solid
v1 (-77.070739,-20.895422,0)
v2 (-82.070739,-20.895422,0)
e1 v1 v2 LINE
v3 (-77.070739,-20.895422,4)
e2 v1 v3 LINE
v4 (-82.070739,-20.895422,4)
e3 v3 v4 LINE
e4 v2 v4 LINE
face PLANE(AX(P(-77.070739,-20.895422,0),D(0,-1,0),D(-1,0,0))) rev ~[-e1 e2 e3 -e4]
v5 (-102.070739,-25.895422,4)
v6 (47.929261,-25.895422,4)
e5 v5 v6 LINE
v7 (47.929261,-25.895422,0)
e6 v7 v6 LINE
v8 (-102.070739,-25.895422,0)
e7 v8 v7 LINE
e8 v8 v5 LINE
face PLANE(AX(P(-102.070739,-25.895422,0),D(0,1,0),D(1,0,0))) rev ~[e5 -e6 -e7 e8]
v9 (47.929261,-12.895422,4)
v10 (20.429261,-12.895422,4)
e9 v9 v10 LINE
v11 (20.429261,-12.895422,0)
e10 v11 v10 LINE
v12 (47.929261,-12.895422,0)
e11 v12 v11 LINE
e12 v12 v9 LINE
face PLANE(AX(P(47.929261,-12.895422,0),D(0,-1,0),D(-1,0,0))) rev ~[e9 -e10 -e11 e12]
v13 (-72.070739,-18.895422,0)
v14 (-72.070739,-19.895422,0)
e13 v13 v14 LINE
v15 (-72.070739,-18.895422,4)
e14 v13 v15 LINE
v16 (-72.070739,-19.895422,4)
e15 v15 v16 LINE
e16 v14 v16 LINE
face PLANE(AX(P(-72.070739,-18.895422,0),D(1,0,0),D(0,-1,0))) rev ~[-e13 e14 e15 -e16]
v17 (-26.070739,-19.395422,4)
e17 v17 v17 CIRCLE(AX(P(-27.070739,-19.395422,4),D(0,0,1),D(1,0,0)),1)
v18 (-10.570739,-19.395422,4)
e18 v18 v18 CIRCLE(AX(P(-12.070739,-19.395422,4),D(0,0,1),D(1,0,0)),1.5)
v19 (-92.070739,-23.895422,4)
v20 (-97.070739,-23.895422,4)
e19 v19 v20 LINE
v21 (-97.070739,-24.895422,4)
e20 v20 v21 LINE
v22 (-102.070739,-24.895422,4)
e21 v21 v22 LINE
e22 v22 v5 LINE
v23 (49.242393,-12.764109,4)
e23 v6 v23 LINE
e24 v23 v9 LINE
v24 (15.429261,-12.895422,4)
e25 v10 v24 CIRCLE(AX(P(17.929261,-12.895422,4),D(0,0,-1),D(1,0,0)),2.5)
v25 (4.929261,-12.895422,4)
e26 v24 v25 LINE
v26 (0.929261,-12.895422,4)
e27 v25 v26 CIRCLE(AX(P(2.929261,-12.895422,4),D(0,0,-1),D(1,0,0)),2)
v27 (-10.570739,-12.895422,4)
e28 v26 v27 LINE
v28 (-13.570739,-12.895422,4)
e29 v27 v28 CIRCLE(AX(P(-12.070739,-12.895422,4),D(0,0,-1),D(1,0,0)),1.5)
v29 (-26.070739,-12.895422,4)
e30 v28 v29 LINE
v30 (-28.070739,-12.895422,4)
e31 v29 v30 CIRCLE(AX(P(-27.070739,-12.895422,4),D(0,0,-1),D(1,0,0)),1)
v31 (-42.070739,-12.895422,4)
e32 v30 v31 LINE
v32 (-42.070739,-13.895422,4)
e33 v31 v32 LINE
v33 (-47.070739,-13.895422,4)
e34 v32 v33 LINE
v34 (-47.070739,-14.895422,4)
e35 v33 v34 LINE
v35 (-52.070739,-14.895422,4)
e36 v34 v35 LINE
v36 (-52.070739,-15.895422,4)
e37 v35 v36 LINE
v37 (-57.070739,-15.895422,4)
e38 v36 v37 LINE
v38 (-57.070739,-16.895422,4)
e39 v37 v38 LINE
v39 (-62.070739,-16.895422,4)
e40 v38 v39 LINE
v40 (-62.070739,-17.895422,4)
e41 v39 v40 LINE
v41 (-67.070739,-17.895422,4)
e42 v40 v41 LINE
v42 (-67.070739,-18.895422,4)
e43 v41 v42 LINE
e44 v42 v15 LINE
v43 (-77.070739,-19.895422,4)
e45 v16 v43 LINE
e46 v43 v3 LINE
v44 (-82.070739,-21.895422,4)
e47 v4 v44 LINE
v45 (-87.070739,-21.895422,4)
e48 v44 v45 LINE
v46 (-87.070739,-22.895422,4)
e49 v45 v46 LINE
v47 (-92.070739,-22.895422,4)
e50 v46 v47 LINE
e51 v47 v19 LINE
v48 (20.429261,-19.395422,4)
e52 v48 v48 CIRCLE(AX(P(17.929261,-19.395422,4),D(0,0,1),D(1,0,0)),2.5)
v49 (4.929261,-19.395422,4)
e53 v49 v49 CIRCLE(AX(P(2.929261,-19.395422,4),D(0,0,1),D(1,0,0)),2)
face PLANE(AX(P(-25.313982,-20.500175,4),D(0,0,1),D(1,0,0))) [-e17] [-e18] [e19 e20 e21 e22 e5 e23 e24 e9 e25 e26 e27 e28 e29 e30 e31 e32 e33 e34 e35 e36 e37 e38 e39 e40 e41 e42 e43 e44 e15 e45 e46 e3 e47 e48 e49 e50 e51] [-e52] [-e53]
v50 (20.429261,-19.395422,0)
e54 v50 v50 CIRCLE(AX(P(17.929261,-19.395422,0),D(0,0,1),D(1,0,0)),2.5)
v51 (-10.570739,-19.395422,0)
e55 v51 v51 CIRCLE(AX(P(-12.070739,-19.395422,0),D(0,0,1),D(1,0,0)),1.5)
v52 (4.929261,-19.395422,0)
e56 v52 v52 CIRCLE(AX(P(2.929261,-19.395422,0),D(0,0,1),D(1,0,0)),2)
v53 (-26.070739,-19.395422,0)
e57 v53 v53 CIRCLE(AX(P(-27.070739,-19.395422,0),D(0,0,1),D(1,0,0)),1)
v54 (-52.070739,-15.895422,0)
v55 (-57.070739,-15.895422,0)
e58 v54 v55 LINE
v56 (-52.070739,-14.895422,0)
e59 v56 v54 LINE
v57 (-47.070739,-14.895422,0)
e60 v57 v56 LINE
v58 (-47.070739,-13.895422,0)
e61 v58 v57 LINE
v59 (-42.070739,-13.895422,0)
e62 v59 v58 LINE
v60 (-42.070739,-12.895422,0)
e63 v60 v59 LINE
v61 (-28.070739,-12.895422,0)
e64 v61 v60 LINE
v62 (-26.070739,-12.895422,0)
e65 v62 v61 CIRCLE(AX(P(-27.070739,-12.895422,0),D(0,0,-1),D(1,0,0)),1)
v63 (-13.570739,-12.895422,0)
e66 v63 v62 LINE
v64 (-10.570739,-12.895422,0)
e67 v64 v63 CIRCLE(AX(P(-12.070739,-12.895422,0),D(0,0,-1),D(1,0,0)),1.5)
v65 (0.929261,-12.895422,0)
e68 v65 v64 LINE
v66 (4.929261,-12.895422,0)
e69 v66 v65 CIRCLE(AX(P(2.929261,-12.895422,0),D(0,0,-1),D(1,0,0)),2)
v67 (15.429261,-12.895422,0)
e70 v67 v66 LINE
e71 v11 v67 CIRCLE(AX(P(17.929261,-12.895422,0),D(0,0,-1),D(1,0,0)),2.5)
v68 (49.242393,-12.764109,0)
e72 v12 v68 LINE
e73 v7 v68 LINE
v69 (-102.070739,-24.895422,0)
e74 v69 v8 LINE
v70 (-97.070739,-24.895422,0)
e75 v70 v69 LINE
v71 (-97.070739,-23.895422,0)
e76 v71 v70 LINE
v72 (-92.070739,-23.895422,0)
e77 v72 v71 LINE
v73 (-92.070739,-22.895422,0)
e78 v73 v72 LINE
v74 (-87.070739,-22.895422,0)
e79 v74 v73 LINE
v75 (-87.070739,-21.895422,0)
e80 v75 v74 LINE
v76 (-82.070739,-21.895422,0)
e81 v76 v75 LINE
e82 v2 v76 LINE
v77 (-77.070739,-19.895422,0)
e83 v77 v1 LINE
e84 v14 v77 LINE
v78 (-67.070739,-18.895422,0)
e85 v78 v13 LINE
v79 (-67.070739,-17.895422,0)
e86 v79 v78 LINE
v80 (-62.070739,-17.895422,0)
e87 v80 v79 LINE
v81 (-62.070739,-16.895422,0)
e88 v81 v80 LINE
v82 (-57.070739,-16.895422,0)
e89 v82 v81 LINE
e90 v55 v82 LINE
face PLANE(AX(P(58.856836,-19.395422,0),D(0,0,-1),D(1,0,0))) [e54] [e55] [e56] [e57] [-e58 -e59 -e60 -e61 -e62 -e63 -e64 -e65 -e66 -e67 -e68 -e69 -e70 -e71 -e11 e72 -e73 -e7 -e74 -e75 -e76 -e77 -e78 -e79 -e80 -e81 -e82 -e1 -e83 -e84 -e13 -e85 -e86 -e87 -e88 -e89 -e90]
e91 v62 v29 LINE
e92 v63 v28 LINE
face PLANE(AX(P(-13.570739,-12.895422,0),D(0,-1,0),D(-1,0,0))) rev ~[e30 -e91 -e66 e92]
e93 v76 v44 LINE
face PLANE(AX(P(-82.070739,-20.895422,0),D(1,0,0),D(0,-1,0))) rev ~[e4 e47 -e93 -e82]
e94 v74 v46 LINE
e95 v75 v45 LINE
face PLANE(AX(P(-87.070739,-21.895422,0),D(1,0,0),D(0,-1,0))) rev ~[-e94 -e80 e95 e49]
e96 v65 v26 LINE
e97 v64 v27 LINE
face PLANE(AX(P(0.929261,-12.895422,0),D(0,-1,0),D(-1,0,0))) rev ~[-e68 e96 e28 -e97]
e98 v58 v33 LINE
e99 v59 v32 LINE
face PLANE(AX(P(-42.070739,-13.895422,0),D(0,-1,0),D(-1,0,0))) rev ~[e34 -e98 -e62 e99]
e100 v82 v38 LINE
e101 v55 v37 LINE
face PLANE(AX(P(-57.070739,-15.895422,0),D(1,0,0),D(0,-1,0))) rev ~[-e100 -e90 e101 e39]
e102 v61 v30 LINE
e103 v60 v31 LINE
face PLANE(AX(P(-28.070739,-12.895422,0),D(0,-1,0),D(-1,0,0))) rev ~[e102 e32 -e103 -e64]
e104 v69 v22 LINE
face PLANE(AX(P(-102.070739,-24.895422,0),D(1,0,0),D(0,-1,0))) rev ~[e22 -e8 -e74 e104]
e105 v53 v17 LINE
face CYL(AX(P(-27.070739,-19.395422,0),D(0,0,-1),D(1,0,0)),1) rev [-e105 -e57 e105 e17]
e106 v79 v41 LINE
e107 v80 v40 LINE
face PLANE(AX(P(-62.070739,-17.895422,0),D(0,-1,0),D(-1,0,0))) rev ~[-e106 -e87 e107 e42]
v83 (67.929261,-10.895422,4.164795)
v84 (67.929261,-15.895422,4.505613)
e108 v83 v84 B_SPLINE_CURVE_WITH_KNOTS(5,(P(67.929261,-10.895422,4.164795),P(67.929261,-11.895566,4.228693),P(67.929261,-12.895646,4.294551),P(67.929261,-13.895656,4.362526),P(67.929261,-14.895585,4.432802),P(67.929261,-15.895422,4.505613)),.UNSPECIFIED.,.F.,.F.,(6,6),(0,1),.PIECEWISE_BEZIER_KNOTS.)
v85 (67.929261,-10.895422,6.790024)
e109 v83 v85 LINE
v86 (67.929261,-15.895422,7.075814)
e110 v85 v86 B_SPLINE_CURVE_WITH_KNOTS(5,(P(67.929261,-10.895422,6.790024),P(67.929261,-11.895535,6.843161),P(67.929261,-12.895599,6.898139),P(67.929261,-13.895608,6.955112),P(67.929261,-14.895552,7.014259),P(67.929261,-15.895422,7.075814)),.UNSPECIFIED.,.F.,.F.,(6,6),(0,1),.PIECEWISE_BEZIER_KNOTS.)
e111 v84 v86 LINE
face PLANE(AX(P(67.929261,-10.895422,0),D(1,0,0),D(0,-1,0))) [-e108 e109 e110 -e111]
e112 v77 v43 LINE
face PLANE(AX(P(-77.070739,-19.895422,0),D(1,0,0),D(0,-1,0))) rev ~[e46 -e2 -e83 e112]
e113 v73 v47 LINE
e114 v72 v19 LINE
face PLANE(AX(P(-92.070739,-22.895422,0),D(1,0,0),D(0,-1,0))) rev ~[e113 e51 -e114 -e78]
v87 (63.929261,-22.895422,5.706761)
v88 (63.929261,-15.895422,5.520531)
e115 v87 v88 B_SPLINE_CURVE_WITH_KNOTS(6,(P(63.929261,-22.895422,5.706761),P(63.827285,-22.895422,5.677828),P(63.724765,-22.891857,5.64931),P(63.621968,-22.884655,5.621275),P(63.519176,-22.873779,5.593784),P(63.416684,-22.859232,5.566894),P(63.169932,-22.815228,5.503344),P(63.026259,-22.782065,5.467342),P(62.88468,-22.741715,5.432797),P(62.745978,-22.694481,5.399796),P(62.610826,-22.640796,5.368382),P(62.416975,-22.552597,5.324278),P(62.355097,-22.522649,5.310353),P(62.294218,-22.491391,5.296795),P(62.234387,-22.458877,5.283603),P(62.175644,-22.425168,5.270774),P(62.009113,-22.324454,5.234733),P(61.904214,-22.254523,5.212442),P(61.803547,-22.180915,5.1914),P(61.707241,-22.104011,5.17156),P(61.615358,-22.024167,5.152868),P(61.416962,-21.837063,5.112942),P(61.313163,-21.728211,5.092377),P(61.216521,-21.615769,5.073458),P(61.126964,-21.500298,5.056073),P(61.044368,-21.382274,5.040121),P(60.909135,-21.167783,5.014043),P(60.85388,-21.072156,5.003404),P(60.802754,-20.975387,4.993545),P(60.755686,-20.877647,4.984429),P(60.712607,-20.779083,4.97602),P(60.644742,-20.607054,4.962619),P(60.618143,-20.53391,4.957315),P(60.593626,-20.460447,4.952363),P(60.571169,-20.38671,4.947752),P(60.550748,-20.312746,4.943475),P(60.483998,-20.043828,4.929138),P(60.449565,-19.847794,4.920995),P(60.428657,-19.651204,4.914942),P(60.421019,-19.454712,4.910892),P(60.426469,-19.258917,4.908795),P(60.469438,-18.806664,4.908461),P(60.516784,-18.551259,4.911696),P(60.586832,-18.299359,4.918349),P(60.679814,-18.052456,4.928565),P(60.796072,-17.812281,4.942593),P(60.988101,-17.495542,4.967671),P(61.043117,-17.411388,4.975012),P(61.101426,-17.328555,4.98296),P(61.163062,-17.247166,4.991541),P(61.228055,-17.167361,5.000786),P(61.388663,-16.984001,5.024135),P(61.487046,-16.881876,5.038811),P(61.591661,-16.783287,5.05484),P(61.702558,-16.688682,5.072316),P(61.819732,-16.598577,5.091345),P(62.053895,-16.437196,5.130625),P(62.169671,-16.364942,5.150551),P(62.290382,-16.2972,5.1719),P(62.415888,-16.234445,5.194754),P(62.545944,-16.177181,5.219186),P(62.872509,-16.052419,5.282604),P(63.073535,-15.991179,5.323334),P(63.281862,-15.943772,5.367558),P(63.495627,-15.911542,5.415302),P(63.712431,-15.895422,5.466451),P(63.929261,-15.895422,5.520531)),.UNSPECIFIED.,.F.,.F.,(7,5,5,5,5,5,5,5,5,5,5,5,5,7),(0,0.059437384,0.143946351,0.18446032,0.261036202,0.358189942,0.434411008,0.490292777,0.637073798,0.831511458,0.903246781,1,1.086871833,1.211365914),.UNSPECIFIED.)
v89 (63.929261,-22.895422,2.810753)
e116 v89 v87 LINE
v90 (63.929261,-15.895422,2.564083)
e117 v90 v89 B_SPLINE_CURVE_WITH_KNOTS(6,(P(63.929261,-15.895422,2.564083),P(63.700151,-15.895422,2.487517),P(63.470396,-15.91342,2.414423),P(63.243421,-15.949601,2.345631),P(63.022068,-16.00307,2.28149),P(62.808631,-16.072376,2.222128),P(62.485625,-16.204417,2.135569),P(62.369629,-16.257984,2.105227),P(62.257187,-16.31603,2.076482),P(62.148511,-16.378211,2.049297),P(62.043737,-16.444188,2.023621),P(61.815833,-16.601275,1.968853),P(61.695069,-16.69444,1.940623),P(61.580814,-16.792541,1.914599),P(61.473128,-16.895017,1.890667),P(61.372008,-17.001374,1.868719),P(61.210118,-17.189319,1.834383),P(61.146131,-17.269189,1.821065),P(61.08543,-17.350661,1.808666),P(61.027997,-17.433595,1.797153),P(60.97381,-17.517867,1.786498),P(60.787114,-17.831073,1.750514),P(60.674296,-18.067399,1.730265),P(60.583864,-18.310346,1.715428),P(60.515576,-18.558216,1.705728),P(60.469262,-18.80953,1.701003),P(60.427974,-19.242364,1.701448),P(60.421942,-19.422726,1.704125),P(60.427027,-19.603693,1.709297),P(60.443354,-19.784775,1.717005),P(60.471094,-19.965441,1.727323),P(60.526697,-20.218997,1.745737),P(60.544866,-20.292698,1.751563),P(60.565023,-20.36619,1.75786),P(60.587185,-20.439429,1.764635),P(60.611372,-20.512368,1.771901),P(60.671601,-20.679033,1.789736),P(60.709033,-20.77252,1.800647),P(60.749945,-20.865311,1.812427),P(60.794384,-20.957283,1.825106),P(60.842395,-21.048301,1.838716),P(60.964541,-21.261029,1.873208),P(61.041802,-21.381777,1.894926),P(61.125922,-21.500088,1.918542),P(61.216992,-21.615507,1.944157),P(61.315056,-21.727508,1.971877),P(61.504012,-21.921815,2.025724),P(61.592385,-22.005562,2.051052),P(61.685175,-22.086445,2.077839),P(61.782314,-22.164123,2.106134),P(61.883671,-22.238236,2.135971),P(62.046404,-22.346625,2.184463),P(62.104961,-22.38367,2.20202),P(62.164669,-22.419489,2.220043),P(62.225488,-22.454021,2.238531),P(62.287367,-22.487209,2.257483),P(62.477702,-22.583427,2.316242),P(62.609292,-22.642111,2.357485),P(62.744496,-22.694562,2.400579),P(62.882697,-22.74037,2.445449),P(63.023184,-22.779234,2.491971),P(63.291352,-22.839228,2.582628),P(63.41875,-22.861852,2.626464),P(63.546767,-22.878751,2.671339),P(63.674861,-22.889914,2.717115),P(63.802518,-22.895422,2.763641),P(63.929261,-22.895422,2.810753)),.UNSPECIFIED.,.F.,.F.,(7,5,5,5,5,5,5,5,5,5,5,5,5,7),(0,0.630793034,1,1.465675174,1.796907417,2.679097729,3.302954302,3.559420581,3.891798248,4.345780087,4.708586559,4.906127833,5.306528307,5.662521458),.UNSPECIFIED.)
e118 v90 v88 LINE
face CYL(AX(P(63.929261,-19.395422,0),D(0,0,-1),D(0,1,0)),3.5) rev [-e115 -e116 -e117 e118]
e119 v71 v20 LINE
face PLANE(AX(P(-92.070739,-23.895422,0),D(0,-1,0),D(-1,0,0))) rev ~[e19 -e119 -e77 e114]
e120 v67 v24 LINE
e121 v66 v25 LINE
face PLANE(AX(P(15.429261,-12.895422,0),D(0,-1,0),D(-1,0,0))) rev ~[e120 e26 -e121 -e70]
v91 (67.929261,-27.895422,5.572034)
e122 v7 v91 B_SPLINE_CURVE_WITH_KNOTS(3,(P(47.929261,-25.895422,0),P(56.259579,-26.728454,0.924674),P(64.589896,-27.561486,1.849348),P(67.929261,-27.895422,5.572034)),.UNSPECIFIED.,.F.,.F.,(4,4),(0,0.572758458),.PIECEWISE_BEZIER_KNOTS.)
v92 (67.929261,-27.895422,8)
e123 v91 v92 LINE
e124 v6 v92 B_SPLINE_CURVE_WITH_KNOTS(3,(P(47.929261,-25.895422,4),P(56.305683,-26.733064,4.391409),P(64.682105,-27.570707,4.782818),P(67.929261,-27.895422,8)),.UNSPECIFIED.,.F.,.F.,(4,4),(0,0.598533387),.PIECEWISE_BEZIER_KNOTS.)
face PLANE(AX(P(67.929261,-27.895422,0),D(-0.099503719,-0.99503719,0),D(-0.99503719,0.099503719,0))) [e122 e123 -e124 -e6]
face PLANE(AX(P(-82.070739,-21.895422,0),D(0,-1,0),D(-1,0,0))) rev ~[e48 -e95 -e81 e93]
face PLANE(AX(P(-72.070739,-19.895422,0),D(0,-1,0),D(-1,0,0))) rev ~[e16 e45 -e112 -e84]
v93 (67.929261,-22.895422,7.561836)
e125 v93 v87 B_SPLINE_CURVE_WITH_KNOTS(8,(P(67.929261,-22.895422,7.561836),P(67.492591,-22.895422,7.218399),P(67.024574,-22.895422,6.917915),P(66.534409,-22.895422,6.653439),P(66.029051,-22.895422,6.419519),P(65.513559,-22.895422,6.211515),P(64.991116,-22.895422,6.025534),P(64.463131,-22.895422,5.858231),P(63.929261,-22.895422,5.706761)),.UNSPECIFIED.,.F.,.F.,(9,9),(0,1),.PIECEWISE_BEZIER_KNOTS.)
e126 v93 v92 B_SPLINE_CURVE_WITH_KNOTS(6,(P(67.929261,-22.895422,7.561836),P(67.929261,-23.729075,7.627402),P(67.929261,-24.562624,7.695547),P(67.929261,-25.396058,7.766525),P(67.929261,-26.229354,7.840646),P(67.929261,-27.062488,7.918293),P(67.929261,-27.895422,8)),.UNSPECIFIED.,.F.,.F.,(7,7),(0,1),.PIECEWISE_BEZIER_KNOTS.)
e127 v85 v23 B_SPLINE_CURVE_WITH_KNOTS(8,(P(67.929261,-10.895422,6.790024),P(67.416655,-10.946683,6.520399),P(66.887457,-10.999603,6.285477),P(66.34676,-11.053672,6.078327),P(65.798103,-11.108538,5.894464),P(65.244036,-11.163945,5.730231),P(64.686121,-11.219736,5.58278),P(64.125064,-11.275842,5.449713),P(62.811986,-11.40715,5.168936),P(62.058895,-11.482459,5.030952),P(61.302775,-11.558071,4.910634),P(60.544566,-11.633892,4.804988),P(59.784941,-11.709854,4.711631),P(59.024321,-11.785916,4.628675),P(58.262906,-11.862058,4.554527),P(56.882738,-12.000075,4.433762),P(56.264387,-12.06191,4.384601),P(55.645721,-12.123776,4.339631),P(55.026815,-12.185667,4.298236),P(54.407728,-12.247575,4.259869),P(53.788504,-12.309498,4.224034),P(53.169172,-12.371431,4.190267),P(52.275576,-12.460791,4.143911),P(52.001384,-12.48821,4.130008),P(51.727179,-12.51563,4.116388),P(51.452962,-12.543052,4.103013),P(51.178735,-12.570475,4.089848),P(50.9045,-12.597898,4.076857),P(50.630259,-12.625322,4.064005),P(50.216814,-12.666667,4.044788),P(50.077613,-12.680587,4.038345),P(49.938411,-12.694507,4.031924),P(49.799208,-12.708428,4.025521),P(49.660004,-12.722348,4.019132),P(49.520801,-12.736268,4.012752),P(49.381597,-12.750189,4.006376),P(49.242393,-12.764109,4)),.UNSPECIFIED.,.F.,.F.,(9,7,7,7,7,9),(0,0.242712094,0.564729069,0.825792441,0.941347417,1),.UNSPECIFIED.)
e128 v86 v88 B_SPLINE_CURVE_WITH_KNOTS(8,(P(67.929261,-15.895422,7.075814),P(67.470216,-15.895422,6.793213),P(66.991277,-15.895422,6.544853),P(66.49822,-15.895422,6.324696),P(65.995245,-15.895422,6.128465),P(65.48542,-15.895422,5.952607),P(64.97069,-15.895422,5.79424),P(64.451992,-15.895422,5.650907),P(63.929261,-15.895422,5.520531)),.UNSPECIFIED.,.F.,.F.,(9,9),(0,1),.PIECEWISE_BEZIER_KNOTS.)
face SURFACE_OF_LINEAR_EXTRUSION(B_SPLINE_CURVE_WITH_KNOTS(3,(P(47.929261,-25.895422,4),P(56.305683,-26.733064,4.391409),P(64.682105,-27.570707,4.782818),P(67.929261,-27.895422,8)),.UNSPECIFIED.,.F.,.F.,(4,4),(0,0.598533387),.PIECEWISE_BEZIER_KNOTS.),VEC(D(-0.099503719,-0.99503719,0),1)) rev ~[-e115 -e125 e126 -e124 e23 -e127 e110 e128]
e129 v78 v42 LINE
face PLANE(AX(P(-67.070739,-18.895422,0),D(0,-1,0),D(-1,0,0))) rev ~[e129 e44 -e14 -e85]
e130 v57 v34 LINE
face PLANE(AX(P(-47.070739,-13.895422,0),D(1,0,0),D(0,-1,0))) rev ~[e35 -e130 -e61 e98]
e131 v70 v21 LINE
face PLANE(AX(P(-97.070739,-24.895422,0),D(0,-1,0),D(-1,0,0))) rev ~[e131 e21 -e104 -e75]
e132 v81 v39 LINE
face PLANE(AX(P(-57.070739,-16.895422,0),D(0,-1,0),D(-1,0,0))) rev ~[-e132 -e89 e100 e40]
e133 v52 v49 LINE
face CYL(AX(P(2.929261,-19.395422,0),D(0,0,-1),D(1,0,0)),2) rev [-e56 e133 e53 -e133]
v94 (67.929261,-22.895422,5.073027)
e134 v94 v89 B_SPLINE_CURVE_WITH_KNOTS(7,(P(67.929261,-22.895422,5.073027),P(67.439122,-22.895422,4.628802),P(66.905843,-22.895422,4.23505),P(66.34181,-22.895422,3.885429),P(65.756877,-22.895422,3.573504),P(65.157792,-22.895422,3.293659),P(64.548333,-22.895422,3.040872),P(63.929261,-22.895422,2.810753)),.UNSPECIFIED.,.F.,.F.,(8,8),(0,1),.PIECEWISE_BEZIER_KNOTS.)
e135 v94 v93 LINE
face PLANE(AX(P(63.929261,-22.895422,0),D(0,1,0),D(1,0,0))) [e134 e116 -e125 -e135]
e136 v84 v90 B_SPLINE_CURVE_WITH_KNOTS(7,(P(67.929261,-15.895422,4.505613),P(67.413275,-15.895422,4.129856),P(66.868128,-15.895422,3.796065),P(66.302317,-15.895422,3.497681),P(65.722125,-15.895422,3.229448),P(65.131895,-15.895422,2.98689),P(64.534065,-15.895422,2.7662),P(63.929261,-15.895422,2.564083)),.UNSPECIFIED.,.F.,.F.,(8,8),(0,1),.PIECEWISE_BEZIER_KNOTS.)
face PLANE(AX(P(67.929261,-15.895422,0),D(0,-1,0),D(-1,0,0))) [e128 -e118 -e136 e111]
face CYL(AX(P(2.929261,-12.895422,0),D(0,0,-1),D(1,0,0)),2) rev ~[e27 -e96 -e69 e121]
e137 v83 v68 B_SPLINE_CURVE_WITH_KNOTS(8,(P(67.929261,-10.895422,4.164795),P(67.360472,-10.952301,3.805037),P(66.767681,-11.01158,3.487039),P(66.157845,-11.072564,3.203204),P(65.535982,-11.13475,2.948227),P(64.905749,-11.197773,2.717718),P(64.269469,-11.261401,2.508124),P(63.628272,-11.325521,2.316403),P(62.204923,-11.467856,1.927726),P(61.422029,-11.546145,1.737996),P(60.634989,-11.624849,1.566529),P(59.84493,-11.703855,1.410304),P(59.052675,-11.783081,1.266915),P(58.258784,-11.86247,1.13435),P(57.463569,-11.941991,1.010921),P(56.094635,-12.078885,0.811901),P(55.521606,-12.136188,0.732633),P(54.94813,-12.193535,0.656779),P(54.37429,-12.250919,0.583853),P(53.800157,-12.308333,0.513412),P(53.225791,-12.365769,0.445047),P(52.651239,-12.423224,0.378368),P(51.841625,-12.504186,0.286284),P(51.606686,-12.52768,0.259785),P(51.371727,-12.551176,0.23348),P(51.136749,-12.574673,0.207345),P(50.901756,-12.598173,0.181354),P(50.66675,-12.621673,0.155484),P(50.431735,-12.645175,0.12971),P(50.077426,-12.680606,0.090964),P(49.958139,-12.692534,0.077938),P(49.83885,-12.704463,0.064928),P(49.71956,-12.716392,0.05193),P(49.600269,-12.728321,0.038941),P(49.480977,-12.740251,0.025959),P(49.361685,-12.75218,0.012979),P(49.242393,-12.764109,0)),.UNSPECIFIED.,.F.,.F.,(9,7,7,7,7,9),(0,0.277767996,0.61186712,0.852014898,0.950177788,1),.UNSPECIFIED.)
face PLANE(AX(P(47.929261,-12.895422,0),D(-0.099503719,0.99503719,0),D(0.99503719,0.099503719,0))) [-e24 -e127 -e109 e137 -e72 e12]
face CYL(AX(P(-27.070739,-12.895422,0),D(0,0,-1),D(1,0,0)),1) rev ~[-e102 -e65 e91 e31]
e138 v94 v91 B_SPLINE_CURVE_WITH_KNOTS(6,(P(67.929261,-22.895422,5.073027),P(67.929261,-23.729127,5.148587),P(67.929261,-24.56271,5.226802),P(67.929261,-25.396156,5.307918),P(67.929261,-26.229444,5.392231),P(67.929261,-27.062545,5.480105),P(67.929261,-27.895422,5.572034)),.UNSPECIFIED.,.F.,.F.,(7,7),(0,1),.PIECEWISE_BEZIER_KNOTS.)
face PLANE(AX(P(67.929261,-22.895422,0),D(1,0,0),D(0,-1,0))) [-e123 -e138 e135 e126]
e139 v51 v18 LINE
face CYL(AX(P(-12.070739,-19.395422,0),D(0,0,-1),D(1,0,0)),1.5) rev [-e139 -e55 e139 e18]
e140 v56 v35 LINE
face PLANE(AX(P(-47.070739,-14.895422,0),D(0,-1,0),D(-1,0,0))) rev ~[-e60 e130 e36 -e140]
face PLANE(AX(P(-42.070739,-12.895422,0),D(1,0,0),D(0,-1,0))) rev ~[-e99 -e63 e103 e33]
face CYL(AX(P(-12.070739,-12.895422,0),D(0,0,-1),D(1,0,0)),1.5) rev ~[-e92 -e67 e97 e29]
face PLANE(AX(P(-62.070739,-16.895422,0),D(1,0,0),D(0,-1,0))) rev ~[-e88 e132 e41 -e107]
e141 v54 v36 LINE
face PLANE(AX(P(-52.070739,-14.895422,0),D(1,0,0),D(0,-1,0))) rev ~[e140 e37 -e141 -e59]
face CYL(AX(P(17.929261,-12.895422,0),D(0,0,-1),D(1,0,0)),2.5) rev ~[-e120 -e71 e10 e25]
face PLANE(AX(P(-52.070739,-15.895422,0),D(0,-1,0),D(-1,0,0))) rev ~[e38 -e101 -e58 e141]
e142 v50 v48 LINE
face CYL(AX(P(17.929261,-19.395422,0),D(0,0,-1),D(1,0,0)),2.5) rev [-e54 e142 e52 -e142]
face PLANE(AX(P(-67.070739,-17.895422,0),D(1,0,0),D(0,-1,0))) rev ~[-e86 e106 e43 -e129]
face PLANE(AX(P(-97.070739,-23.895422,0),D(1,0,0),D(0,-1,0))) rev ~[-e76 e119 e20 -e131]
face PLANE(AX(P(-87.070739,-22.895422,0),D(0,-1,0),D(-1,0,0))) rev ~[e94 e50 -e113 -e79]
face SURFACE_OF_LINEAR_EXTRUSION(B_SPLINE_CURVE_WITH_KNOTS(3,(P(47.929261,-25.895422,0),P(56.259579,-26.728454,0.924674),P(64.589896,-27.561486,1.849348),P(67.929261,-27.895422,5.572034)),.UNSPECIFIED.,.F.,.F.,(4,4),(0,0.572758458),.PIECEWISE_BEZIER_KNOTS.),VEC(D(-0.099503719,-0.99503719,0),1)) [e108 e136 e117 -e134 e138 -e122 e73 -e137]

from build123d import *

# Parameters (mm, degrees)
F0_R     = 1
F0_R_2   = 1.5
F0_R_3   = 2
F0_R_4   = 2.5
F1_DEPTH = 4
F3_DEPTH = 8
F5_DEPTH = 25


with BuildPart() as f1:
    # F0 (on Top) → F1 (new body)
    with BuildSketch(Plane.XY):
        with BuildLine():
            Line((-52.0707386732, -14.8954221606), (-52.0707386732, -15.8954221606))
            Line((-52.0707386732, -15.8954221606), (-57.0707386732, -15.8954221606))
            Line((-57.0707386732, -15.8954221606), (-57.0707386732, -16.8954221606))
            Line((-57.0707386732, -16.8954221606), (-62.0707386732, -16.8954221606))
            Line((-62.0707386732, -16.8954221606), (-62.0707386732, -17.8954221606))
            Line((-62.0707386732, -17.8954221606), (-67.0707386732, -17.8954221606))
            Line((-67.0707386732, -17.8954221606), (-67.0707386732, -18.8954221606))
            Line((-67.0707386732, -18.8954221606), (-72.0707386732, -18.8954221606))
            Line((-72.0707386732, -18.8954221606), (-72.0707386732, -19.8954221606))
            Line((-72.0707386732, -19.8954221606), (-77.0707386732, -19.8954221606))
            Line((-77.0707386732, -19.8954221606), (-77.0707386732, -20.8954221606))
            Line((-77.0707386732, -20.8954221606), (-82.0707386732, -20.8954221606))
            Line((-82.0707386732, -20.8954221606), (-82.0707386732, -21.8954221606))
            Line((-82.0707386732, -21.8954221606), (-87.0707386732, -21.8954221606))
            Line((-87.0707386732, -21.8954221606), (-87.0707386732, -22.8954221606))
            Line((-87.0707386732, -22.8954221606), (-92.0707386732, -22.8954221606))
            Line((-92.0707386732, -22.8954221606), (-92.0707386732, -23.8954221606))
            Line((-92.0707386732, -23.8954221606), (-97.0707386732, -23.8954221606))
            Line((-97.0707386732, -23.8954221606), (-97.0707386732, -24.8954221606))
            Line((-97.0707386732, -24.8954221606), (-102.0707386732, -24.8954221606))
            Line((-102.0707386732, -24.8954221606), (-102.0707386732, -25.8954221606))
            Line((-102.0707386732, -25.8954221606), (47.9292613268, -25.8954221606))
            Line((47.9292613268, -25.8954221606), (47.9292613268, -12.8954221606))
            Line((47.9292613268, -12.8954221606), (20.4292613268, -12.8954221606))
            ThreePointArc((20.4292613268, -12.8954221606), (17.9292613268, -15.3954221606), (15.4292613268, -12.8954221606))
            Line((15.4292613268, -12.8954221606), (4.9292613268, -12.8954221606))
            ThreePointArc((4.9292613268, -12.8954221606), (2.9292613268, -14.8954221606), (0.9292613268, -12.8954221606))
            Line((0.9292613268, -12.8954221606), (-10.5707386732, -12.8954221606))
            ThreePointArc((-10.5707386732, -12.8954221606), (-12.0707386732, -14.3954221606), (-13.5707386732, -12.8954221606))
            Line((-13.5707386732, -12.8954221606), (-26.0707386732, -12.8954221606))
            ThreePointArc((-26.0707386732, -12.8954221606), (-27.0707386732, -13.8954221606), (-28.0707386732, -12.8954221606))
            Line((-28.0707386732, -12.8954221606), (-42.0707386732, -12.8954221606))
            Line((-42.0707386732, -12.8954221606), (-42.0707386732, -13.8954221606))
            Line((-42.0707386732, -13.8954221606), (-47.0707386732, -13.8954221606))
            Line((-47.0707386732, -13.8954221606), (-47.0707386732, -14.8954221606))
            Line((-47.0707386732, -14.8954221606), (-52.0707386732, -14.8954221606))
        make_face()
        with Locations((-27.0707386732, -19.3954221606)):
            Circle(F0_R, mode=Mode.SUBTRACT)
        with Locations((-12.0707386732, -19.3954221606)):
            Circle(F0_R_2, mode=Mode.SUBTRACT)
        with Locations((2.9292613268, -19.3954221606)):
            Circle(F0_R_3, mode=Mode.SUBTRACT)
        with Locations((17.9292613268, -19.3954221606)):
            Circle(F0_R_4, mode=Mode.SUBTRACT)
    extrude(amount=F1_DEPTH)

    # F2 (on face) → F3 (join)
    with BuildSketch(Plane(origin=(0, 0, 0), x_dir=(1, 0, 0), z_dir=(0, 0, -1))):
        with BuildLine():
            Line((47.9292613268, 25.8954221606), (47.9292613268, 12.8954221606))
            Line((47.9292613268, 12.8954221606), (67.9292613268, 10.8954221606))
            Line((67.9292613268, 10.8954221606), (67.9292613268, 15.8954221606))
            Line((67.9292613268, 15.8954221606), (63.9292613268, 15.8954221606))
            ThreePointArc((63.9292613268, 15.8954221606), (60.4292613268, 19.3954221606), (63.9292613268, 22.8954221606))
            Line((63.9292613268, 22.8954221606), (67.9292613268, 22.8954221606))
            Line((67.9292613268, 22.8954221606), (67.9292613268, 27.8954221606))
            Line((67.9292613268, 27.8954221606), (47.9292613268, 25.8954221606))
        make_face()
    extrude(amount=-F3_DEPTH)

    # F4 (on face) → F5 (cut)
    with BuildSketch(Plane(origin=(-2.0893560424, -20.8935604237, 0), x_dir=(0.9950371902, -0.099503719, 0), z_dir=(-0.099503719, -0.9950371902, 0))):
        with BuildLine():
            Line((47.7105565369, 4), (50.2680883301, 4))
            Line((50.2680883301, 4), (50.2680883301, 8))
            Line((50.2680883301, 8), (70.3678395723, 8))
            add(Edge.make_bspline(
                [(70.3678395723, 8), (72.5567347198, 10.1579266461), (72.4264311984, 13.587186432), (72.296127677, 17.0164462179)],
                knots=[0.598533387, 0.598533387, 0.598533387, 0.598533387, 1, 1, 1, 1], degree=3))
            add(Edge.make_bspline(
                [(70.3678395723, 5.5720340461), (72.8712183365, 8.3489220533), (72.5836730067, 12.6826841356), (72.296127677, 17.0164462179)],
                knots=[0.5727584581, 0.5727584581, 0.5727584581, 0.5727584581, 1, 1, 1, 1], degree=3))
            Line((70.3678395723, 5.5720340461), (70.3678395723, 0))
            Line((70.3678395723, 0), (50.2680883301, 0))
            Line((50.2680883301, 0), (50.2680883301, -3.928697668))
            Line((50.2680883301, -3.928697668), (74.866913259, -3.928697668))
            Line((74.866913259, -3.928697668), (74.866913259, 19.5322930813))
            Line((74.866913259, 19.5322930813), (50.2680883301, 19.5322930813))
            Line((50.2680883301, 19.5322930813), (47.7105565369, 19.5322930813))
            Line((47.7105565369, 19.5322930813), (47.7105565369, 4))
        make_face()
        with BuildLine():
            Line((50.2680883301, 8), (50.2680883301, 4))
            add(Edge.make_bspline(
                [(50.2680883301, 4), (58.6862880108, 4.3914090203), (67.1044876915, 4.7828180407), (70.3678395723, 8)],
                knots=[0, 0, 0, 0, 0.598533387, 0.598533387, 0.598533387, 0.598533387], degree=3))
            Line((70.3678395723, 8), (50.2680883301, 8))
        make_face()
        with BuildLine():
            add(Edge.make_bspline(
                [(50.2680883301, 0), (58.6399537153, 0.9246740387), (67.0118191006, 1.8493480774), (70.3678395723, 5.5720340461)],
                knots=[0, 0, 0, 0, 0.5727584581, 0.5727584581, 0.5727584581, 0.5727584581], degree=3))
            Line((50.2680883301, 0), (70.3678395723, 0))
            Line((70.3678395723, 0), (70.3678395723, 5.5720340461))
        make_face()
    extrude(amount=-F5_DEPTH, mode=Mode.SUBTRACT)


solid = f1.part
